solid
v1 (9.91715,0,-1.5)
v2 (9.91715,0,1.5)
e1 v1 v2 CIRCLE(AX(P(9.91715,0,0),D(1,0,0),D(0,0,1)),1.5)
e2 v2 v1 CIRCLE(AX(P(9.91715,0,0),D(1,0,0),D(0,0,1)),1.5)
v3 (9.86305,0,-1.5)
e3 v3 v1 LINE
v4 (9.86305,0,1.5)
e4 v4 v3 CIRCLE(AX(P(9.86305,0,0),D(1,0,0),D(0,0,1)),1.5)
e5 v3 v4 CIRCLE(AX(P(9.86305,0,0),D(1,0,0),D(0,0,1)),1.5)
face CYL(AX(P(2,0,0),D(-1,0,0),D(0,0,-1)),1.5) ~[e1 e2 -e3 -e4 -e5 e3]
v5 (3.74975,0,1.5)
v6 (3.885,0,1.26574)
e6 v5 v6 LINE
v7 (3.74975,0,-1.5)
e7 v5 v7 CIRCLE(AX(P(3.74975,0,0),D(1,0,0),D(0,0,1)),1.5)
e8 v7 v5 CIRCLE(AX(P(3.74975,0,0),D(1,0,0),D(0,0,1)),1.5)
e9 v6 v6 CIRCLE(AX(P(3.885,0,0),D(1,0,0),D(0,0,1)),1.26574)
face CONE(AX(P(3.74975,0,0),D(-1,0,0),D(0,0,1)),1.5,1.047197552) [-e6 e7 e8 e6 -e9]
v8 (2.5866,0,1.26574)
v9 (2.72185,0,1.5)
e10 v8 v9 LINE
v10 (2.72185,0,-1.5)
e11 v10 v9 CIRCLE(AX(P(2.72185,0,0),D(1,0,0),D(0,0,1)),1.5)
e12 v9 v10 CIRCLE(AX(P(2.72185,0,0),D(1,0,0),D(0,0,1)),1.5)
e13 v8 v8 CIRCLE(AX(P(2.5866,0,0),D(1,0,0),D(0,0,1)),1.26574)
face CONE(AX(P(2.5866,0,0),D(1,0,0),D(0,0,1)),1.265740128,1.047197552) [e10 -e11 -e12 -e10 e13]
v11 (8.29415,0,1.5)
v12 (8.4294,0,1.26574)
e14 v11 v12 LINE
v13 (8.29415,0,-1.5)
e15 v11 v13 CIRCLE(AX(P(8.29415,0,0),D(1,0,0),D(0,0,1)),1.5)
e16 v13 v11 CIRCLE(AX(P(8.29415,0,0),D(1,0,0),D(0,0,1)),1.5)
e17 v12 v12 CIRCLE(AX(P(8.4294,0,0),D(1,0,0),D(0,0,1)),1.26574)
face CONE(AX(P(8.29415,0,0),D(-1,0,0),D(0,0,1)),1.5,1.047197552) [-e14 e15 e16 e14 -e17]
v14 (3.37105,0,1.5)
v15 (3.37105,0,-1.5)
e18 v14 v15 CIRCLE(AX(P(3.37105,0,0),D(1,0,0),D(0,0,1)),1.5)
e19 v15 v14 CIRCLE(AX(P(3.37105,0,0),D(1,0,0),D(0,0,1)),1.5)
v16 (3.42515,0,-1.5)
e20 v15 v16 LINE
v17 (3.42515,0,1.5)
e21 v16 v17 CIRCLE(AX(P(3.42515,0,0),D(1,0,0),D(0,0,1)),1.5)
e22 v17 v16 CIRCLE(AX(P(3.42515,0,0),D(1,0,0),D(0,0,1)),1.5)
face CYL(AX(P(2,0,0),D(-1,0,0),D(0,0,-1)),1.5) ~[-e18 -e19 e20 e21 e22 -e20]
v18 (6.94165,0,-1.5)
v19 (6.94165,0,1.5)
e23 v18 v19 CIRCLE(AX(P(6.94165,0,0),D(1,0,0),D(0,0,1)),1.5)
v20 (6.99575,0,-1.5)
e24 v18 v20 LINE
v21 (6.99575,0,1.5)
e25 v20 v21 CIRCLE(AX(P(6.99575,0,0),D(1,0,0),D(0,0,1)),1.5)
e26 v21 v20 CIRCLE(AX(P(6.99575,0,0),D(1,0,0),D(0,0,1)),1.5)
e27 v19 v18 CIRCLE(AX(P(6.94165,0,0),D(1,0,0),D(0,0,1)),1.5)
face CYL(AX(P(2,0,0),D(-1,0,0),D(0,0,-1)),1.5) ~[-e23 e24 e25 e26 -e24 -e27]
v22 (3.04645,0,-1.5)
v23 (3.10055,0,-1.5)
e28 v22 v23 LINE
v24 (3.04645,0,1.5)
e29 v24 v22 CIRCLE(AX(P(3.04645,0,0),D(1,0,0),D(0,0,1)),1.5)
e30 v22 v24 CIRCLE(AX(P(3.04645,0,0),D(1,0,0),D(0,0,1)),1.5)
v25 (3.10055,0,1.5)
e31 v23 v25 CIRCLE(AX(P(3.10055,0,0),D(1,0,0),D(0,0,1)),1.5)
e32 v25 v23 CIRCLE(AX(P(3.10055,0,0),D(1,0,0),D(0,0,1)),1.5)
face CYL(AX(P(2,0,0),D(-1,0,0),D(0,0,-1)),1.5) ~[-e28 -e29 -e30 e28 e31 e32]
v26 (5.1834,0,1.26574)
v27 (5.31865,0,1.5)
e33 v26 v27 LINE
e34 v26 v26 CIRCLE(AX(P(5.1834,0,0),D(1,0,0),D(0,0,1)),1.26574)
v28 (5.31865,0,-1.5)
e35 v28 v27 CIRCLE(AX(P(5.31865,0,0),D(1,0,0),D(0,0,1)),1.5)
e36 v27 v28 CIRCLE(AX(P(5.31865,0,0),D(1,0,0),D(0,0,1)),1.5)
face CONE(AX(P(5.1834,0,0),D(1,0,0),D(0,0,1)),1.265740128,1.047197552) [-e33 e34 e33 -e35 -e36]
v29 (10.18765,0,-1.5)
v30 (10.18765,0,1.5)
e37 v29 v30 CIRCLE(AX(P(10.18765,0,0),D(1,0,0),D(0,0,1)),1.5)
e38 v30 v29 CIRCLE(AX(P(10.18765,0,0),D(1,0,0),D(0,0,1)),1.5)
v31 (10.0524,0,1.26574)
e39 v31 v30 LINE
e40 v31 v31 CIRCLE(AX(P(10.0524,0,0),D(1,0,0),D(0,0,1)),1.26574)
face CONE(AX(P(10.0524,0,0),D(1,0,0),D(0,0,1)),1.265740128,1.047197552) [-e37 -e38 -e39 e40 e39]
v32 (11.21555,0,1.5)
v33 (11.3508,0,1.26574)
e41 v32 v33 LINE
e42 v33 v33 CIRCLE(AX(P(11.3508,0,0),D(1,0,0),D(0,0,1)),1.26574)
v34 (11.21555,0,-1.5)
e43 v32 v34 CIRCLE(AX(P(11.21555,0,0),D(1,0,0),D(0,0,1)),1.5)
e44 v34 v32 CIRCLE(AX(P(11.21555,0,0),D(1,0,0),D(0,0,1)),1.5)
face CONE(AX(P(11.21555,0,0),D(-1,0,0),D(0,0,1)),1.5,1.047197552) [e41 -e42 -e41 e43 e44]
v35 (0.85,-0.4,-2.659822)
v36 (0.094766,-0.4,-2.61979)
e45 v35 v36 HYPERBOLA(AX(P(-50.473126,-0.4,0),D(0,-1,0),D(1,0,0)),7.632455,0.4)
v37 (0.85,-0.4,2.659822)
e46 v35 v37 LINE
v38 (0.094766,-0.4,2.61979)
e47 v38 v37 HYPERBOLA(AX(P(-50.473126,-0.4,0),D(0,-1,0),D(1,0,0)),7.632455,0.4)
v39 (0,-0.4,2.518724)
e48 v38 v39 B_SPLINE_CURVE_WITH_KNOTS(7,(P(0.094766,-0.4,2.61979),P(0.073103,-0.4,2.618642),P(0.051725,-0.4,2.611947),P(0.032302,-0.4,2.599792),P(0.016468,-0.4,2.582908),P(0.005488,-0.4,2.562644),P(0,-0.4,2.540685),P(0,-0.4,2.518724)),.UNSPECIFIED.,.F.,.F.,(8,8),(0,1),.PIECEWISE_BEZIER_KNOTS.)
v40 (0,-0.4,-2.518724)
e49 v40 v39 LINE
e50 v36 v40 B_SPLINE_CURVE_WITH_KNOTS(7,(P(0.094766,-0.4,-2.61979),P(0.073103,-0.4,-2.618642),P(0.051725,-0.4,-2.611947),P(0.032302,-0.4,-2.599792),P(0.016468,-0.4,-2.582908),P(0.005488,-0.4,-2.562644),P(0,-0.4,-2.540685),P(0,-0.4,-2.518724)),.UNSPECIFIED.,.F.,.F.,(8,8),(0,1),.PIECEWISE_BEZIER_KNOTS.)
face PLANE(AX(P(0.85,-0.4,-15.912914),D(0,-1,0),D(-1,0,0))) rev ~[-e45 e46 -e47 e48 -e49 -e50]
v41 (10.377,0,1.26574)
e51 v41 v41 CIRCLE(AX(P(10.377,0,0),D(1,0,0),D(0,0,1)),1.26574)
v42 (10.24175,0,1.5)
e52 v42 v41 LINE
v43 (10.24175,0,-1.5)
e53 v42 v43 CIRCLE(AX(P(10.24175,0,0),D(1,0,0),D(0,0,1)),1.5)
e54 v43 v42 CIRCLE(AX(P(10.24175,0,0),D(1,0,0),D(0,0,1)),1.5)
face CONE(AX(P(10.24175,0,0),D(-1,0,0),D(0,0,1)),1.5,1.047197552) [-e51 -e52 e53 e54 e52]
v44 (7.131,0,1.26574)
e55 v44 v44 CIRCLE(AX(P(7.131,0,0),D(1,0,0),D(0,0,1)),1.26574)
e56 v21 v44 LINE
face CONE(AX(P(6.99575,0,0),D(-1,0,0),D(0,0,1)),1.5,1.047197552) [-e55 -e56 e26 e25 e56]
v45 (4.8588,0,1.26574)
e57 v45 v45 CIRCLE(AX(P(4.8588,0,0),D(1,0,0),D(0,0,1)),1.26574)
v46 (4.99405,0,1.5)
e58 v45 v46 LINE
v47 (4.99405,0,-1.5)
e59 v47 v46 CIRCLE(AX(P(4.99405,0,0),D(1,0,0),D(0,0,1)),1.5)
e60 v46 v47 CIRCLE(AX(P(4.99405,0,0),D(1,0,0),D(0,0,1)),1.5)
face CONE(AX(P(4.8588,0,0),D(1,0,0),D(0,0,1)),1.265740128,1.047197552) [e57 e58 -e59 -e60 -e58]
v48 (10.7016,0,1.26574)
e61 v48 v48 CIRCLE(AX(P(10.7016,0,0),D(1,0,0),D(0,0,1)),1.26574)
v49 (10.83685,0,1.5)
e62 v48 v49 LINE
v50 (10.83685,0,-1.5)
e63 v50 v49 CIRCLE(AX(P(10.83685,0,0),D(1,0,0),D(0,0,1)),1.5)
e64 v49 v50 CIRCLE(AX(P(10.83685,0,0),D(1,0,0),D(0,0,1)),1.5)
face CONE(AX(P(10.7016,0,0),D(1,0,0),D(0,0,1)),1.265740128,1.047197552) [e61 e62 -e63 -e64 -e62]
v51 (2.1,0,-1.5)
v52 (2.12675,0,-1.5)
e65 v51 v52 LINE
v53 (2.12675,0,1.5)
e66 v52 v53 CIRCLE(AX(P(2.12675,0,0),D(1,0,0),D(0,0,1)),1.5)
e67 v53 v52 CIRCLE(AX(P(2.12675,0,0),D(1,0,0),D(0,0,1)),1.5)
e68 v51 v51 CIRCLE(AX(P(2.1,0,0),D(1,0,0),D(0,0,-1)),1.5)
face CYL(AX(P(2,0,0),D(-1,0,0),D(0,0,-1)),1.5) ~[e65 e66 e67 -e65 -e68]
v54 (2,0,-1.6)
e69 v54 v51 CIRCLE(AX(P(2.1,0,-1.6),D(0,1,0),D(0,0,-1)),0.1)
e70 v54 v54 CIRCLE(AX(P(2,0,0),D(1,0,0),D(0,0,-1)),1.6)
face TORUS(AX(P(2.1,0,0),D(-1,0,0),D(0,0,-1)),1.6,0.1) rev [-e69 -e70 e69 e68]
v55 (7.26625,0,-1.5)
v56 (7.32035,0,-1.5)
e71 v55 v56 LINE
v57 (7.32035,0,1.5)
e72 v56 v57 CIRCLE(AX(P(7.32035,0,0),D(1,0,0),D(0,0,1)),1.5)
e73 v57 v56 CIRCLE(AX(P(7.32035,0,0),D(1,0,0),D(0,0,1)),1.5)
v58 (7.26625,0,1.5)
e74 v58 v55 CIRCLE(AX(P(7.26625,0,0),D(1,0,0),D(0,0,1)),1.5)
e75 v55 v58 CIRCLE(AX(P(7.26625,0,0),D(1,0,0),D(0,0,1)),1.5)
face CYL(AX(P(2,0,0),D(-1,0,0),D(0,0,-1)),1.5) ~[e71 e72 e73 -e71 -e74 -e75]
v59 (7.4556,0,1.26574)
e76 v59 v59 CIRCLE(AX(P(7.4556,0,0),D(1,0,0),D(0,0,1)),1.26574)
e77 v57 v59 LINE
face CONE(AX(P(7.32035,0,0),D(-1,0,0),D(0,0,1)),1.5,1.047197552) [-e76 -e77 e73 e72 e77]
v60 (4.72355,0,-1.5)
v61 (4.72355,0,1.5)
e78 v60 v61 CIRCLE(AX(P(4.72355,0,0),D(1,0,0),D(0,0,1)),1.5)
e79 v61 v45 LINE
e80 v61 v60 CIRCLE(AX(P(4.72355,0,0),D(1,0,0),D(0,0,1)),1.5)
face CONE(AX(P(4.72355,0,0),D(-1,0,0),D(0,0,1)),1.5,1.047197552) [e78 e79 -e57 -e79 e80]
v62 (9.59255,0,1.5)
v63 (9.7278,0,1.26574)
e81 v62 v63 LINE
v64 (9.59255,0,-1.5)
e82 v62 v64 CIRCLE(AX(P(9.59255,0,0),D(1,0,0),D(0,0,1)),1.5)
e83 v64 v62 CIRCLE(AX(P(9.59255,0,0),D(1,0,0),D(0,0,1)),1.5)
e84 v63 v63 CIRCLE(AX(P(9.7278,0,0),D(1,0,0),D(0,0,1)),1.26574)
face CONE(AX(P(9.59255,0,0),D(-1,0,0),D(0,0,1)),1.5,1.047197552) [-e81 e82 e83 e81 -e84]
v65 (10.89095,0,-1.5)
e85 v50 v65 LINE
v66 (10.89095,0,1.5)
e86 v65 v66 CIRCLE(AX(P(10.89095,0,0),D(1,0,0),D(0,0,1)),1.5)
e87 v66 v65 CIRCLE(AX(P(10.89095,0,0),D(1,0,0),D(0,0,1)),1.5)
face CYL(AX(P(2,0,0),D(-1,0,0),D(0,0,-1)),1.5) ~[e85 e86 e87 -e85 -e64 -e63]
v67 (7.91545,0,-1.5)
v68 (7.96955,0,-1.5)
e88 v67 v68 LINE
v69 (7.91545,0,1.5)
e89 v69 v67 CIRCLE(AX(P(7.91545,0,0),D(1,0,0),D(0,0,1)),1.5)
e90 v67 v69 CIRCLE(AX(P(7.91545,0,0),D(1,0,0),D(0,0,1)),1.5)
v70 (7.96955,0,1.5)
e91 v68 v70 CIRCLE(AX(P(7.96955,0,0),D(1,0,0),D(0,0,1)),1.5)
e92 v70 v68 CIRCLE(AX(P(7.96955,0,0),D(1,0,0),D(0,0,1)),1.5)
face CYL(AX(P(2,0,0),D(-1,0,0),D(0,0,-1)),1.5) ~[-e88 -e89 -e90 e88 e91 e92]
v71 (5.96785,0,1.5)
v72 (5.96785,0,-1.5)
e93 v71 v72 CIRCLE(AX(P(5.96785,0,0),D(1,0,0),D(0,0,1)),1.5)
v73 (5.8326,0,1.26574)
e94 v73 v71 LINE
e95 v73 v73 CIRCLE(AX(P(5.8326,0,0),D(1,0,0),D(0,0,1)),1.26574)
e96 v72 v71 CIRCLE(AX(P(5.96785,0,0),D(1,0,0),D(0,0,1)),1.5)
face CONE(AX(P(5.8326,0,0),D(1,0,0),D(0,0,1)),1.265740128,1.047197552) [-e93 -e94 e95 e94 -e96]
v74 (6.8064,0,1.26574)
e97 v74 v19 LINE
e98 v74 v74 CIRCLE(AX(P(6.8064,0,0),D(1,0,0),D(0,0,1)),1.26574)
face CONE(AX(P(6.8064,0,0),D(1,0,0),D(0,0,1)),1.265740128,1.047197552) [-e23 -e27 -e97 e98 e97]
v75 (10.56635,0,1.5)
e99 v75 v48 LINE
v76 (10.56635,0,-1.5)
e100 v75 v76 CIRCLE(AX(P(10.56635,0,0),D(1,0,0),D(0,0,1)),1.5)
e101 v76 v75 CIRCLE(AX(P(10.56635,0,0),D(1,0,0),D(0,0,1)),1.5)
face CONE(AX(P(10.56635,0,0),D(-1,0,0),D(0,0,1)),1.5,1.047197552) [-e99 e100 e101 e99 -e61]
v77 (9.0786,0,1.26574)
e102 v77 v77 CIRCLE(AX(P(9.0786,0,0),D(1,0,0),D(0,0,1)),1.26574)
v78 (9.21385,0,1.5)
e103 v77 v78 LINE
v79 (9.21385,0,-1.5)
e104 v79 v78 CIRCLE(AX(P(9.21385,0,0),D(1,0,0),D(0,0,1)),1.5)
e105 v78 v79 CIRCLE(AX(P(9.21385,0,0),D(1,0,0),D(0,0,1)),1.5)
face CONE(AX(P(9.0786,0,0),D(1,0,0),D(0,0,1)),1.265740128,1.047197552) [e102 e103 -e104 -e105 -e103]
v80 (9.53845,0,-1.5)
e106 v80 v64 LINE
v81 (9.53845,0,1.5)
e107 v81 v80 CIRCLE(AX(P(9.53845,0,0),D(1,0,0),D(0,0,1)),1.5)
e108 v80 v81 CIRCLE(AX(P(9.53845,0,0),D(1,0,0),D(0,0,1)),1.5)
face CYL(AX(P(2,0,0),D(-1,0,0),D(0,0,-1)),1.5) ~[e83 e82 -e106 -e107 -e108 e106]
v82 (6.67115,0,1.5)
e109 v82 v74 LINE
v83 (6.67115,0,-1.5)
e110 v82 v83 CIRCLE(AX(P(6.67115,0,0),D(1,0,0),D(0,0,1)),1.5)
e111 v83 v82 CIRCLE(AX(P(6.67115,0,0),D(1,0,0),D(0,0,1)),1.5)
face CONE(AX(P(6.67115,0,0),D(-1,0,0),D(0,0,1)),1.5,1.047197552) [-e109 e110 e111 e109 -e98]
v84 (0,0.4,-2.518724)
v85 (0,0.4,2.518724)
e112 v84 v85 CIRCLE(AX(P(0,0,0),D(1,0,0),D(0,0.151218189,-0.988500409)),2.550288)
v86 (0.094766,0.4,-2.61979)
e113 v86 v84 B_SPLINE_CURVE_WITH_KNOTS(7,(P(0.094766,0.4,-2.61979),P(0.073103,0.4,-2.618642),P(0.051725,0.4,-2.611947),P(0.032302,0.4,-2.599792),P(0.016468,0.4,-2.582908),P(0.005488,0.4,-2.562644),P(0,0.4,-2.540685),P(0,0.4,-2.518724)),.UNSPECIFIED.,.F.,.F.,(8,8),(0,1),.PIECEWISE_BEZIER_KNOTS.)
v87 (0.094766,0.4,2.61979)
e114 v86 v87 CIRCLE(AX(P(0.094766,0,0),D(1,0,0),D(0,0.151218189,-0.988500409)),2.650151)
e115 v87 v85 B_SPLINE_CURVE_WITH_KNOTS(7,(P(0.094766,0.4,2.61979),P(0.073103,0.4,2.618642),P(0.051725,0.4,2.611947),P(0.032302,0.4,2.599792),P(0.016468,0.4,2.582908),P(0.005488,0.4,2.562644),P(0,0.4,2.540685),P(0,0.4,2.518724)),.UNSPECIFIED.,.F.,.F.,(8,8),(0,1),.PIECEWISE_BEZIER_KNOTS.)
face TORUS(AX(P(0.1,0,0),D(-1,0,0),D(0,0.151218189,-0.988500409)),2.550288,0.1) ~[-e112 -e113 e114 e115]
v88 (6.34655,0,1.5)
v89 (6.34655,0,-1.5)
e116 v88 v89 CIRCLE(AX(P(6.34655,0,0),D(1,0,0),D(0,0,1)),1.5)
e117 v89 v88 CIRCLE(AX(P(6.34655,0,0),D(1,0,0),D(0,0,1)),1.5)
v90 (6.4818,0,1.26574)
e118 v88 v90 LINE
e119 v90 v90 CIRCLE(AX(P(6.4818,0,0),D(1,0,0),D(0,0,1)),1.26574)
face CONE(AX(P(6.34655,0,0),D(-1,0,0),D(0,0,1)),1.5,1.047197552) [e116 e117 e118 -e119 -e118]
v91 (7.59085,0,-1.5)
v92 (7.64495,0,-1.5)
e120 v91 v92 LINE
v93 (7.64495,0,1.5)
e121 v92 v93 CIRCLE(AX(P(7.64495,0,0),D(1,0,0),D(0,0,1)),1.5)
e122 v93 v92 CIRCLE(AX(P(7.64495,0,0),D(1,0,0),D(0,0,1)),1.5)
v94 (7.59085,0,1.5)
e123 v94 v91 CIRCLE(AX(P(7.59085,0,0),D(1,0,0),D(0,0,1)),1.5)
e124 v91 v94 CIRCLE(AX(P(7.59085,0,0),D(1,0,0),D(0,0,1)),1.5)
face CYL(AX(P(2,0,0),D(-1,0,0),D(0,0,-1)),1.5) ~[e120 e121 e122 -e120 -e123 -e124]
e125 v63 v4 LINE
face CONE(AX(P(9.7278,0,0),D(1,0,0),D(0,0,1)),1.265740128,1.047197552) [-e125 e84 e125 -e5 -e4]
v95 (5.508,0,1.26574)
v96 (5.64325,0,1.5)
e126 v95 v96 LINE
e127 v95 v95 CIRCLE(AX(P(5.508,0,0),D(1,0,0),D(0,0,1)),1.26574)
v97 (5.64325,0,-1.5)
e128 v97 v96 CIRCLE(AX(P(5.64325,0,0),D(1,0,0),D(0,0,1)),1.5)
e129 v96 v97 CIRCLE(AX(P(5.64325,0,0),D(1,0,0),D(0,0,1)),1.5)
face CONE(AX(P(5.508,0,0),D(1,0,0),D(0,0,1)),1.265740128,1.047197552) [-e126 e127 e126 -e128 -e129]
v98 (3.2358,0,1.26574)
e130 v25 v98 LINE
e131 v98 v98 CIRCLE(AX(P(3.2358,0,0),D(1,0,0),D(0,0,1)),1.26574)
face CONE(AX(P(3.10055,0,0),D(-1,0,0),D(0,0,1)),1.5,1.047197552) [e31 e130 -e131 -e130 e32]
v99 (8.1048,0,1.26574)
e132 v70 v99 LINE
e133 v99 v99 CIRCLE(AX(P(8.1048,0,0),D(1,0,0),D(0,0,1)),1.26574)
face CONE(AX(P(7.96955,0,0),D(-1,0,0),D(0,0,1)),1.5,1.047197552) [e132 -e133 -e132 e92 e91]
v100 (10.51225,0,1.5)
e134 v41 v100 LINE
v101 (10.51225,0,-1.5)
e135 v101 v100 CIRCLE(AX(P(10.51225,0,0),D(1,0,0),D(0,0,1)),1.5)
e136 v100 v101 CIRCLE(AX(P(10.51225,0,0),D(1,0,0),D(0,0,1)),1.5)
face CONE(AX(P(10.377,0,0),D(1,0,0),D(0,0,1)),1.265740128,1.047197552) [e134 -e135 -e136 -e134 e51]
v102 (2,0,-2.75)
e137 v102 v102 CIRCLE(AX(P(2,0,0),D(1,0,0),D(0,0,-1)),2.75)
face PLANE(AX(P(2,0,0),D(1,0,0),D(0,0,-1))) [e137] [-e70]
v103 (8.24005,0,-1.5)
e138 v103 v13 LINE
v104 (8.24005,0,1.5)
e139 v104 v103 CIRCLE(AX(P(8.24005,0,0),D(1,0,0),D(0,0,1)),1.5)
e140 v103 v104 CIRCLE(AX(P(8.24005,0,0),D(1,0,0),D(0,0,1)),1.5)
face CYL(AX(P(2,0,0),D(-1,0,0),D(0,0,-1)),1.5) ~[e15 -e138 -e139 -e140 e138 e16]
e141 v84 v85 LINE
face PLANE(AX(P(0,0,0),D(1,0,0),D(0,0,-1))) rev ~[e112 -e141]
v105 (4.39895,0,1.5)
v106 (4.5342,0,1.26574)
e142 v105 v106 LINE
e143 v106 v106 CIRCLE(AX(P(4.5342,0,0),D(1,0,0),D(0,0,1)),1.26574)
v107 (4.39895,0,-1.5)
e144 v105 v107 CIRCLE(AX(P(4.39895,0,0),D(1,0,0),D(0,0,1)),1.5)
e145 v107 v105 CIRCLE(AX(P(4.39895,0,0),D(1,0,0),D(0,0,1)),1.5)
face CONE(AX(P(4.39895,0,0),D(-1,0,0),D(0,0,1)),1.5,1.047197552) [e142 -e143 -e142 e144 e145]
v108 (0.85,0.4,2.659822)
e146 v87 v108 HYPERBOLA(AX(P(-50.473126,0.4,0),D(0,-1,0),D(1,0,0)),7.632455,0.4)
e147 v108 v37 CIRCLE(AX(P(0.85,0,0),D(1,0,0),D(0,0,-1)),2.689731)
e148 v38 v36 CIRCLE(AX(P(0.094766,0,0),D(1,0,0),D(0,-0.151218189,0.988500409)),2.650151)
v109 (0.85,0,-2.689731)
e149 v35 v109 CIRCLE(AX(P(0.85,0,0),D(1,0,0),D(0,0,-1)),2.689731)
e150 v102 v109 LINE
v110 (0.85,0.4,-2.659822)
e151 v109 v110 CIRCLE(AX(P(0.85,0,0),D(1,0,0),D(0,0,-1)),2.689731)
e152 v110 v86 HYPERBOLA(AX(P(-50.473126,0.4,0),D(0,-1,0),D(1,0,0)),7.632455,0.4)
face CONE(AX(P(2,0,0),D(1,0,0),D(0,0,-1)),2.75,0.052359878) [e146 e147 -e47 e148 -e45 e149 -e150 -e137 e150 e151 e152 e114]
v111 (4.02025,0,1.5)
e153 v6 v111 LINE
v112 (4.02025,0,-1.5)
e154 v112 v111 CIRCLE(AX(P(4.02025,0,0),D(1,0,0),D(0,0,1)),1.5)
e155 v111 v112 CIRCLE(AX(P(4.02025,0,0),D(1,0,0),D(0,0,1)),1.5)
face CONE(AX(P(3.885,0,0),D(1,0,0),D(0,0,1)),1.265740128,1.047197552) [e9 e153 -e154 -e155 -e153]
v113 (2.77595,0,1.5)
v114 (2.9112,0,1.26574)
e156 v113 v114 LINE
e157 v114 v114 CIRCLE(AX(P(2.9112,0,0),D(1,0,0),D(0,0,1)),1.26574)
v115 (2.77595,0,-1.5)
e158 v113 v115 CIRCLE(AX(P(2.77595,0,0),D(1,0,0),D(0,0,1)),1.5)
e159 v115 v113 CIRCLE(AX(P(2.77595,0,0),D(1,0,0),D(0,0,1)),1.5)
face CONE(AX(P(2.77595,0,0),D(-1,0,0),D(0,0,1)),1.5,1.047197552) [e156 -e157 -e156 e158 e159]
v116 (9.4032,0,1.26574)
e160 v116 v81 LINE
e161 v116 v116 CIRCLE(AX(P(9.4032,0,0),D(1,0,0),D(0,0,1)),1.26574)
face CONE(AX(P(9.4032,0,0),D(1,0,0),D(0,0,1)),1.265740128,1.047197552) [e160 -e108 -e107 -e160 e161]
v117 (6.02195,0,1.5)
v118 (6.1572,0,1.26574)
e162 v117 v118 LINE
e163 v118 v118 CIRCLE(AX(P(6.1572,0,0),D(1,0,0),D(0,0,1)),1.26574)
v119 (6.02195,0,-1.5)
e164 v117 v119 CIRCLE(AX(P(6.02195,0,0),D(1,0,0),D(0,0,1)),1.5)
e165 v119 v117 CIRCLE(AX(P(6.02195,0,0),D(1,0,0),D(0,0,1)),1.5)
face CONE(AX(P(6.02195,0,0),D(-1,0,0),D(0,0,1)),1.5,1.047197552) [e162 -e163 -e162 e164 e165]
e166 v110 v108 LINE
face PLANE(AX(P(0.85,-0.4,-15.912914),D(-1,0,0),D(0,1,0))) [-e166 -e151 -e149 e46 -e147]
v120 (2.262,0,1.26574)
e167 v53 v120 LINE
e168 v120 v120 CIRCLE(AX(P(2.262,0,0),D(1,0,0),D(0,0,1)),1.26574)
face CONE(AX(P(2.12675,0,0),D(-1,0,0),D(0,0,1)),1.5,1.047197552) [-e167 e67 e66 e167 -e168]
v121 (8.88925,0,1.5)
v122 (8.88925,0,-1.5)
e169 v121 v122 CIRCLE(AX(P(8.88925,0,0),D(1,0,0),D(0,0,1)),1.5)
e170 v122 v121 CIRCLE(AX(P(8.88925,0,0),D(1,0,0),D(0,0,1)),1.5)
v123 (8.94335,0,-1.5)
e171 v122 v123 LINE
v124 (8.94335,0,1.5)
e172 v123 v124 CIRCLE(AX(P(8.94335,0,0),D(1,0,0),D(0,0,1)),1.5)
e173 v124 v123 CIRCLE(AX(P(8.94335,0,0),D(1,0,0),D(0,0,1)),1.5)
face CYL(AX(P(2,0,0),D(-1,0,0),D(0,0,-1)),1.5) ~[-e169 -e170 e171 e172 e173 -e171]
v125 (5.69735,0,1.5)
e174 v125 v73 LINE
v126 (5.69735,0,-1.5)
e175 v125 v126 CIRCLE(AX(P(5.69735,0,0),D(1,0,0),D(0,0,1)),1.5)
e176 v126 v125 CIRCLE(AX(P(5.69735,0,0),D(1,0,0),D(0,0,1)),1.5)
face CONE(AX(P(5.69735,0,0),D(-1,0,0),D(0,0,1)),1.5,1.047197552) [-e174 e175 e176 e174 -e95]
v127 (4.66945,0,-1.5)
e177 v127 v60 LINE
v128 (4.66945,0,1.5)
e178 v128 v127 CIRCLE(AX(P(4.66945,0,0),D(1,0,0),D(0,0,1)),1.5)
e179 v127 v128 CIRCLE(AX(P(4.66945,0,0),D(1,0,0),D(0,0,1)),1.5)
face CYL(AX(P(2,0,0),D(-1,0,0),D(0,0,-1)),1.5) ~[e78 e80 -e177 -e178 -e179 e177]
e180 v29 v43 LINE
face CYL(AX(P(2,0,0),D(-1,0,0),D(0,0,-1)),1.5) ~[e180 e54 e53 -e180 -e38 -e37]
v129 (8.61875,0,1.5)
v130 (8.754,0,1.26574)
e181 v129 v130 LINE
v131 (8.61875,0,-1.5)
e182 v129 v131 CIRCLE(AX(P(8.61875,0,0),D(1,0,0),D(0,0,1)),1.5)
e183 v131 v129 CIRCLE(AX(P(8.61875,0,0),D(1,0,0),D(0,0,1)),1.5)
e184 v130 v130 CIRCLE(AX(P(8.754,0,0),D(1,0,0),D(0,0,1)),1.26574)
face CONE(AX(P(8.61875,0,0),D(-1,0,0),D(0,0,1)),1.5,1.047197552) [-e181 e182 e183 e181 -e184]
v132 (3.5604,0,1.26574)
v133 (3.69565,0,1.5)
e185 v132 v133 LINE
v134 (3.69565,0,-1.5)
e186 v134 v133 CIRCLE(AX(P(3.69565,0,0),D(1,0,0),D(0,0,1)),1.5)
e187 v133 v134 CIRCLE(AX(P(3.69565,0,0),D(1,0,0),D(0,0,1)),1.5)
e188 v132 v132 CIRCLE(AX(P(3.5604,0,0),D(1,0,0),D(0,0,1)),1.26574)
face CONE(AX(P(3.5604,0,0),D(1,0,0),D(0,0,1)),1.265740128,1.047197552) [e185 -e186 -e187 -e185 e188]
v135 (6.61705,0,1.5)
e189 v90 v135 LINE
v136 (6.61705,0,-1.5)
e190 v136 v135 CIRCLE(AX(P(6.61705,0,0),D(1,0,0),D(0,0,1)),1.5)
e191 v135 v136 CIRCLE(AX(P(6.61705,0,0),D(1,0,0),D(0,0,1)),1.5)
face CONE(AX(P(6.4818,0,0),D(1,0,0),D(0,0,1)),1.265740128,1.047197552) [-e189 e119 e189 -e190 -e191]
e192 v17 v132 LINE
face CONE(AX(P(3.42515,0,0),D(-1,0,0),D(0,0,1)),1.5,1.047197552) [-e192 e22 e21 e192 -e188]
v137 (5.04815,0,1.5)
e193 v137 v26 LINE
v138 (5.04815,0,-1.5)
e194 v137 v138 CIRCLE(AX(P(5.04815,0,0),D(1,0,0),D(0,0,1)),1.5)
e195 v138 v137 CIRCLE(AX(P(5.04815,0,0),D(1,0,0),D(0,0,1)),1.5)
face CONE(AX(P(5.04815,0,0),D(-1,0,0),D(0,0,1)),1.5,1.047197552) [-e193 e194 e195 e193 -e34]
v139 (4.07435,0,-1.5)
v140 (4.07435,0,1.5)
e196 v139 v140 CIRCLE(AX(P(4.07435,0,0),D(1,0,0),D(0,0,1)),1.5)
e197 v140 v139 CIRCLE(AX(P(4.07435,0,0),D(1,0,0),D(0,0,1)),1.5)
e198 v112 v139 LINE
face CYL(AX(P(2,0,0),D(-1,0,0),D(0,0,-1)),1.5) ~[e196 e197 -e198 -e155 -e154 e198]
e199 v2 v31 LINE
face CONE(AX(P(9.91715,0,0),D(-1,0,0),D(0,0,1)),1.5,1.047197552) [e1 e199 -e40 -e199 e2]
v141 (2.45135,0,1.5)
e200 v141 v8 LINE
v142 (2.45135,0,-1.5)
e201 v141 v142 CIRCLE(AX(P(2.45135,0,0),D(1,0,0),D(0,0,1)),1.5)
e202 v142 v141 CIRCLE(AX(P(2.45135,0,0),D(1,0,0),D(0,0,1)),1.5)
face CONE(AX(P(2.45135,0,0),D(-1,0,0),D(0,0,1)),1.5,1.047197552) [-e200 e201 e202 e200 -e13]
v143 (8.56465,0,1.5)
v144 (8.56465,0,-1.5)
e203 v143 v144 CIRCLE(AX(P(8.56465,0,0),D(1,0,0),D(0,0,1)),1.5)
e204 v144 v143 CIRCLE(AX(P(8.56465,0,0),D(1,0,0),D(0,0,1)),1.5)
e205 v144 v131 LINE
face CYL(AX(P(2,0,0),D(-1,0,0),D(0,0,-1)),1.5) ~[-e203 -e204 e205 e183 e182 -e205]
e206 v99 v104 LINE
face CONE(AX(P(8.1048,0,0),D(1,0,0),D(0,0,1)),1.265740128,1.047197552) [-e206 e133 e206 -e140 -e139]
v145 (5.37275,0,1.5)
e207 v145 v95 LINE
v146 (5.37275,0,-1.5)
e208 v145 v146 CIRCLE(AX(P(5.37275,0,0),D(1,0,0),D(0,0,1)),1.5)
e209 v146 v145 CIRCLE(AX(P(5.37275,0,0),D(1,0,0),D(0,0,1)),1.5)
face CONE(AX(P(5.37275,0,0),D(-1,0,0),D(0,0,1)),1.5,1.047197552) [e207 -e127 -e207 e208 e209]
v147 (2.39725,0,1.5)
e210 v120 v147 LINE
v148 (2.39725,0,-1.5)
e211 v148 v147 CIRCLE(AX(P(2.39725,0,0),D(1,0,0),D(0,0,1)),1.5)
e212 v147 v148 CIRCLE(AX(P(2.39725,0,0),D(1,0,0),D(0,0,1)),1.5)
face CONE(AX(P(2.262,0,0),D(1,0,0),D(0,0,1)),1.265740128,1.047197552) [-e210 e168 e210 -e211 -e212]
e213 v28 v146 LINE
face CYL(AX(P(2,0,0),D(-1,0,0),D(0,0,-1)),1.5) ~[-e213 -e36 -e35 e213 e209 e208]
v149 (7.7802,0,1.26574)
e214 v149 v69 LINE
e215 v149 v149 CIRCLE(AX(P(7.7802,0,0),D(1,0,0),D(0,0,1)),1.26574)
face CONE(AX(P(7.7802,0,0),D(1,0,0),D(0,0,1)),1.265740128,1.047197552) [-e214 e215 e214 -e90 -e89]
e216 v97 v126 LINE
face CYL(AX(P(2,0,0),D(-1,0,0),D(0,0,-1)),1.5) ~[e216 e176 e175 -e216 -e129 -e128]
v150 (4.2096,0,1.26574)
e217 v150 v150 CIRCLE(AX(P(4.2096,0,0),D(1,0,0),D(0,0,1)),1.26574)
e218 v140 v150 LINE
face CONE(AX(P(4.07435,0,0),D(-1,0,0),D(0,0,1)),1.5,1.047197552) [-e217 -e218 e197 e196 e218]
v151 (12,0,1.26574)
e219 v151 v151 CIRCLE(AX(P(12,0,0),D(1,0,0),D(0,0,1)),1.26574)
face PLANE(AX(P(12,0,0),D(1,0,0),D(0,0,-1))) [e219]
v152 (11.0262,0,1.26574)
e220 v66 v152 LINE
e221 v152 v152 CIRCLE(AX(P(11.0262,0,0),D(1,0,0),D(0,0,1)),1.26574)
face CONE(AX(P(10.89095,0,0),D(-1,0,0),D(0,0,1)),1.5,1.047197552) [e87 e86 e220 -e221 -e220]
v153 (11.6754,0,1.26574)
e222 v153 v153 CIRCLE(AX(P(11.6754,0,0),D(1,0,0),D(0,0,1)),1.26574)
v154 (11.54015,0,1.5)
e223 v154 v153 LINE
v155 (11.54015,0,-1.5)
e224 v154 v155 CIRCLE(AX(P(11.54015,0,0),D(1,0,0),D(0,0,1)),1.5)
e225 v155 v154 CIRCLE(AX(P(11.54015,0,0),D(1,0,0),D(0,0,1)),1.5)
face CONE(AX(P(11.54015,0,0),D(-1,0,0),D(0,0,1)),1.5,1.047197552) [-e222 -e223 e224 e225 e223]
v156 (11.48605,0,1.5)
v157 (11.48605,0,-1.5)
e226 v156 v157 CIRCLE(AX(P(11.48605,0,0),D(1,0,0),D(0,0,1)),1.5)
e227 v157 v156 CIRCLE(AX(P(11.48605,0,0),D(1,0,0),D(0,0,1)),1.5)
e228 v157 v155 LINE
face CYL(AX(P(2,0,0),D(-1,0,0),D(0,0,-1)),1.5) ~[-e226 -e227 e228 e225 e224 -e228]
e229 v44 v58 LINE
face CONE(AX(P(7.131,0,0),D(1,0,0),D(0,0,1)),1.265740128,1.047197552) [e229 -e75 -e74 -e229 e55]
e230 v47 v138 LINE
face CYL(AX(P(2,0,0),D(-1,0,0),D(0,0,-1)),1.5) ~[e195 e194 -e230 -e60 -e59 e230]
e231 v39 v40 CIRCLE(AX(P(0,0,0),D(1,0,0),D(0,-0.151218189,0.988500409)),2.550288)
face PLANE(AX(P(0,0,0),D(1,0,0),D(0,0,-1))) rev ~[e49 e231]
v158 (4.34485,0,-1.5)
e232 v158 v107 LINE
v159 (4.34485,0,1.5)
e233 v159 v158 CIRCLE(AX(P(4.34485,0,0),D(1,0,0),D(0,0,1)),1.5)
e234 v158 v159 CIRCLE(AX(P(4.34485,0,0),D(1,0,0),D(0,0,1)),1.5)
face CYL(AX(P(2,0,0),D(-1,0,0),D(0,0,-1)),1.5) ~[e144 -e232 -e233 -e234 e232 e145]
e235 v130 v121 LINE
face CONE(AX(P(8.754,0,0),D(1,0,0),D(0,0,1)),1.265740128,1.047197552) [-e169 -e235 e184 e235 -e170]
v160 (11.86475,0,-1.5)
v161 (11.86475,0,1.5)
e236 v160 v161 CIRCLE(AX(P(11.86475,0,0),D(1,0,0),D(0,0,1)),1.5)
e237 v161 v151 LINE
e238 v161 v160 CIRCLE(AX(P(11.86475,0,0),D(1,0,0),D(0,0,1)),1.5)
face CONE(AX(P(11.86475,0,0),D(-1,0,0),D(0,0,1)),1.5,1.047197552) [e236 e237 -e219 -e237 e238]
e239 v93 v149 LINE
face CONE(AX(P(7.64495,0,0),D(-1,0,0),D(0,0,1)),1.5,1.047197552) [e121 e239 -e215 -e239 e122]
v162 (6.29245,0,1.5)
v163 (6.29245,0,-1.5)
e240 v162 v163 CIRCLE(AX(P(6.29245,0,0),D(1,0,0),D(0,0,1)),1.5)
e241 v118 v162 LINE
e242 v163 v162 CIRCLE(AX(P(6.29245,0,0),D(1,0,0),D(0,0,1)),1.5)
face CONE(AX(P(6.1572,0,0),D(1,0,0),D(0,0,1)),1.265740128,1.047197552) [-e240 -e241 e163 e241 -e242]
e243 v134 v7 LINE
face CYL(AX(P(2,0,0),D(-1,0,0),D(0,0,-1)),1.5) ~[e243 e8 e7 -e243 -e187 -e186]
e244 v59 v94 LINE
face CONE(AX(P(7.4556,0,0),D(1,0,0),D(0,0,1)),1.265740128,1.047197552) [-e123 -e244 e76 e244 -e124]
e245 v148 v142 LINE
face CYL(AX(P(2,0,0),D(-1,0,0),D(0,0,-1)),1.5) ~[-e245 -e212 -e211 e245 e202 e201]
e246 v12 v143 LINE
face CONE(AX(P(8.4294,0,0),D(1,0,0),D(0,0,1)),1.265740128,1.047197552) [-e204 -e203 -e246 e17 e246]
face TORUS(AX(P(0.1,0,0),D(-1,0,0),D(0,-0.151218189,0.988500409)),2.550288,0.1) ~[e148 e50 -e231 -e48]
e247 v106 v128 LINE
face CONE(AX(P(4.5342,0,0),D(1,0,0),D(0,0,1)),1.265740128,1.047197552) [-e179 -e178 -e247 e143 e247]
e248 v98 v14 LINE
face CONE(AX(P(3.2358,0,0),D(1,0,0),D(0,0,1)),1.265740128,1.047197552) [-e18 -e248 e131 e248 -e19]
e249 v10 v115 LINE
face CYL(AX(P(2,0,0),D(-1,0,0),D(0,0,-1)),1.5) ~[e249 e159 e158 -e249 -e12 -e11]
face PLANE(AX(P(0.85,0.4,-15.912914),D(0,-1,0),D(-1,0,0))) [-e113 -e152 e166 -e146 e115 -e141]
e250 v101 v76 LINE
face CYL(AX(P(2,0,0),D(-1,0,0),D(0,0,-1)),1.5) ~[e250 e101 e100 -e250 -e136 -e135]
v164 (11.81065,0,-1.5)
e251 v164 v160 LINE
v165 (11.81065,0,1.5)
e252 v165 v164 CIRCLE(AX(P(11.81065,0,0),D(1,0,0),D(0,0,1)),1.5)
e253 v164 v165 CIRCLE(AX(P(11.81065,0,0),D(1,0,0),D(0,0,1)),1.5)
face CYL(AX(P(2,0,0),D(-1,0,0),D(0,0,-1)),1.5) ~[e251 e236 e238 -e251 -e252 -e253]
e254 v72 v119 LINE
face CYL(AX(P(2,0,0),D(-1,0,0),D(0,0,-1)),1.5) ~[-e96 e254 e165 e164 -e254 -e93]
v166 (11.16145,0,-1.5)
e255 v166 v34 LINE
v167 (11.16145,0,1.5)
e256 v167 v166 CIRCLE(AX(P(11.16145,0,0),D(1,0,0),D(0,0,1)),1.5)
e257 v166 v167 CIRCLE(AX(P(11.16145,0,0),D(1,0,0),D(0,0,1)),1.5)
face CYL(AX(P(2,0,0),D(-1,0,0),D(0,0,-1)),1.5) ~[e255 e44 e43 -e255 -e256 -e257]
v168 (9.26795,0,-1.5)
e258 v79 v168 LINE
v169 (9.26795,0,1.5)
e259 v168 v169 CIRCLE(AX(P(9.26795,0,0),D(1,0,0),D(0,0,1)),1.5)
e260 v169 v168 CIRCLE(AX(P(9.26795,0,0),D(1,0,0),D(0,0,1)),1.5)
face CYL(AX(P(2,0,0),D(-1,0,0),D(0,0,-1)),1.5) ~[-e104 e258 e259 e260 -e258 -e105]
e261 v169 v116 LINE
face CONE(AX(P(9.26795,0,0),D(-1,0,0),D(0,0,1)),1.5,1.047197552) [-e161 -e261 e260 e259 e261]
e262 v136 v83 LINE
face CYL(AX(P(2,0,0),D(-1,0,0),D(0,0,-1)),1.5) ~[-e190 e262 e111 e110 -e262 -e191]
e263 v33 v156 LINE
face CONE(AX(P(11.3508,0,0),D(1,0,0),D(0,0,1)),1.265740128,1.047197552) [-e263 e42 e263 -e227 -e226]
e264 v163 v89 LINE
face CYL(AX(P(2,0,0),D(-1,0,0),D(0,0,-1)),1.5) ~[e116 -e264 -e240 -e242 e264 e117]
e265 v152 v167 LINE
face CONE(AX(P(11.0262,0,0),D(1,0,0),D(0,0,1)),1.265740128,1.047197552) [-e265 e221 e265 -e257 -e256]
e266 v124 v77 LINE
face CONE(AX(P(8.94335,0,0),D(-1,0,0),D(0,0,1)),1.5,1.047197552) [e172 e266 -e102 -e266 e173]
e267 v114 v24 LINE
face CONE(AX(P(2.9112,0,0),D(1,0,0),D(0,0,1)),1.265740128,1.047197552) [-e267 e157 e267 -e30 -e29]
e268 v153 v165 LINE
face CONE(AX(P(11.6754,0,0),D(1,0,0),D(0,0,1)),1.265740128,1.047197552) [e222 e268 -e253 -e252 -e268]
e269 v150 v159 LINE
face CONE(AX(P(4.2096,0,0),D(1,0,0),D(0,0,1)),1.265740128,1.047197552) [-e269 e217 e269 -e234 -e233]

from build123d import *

# Parameters (mm, degrees)
SKETCH2_R        = 2.75
BASEHEAD_DEPTH   = 2
BASEHEAD_DRAFT   = -3
SKETCH3_R        = 1.5
BASEBODY_DEPTH   = 10
SLOT_DEPTH       = 15.912913867
SLOT_DEPTH_BACK  = 15.912913867
SKETCH4_W        = 0.8
SKETCH4_H        = 0.85
HEADFILLET_R     = 0.1
LPATTERN10_COUNT = 31
LPATTERN10_PITCH = 0.3246


with BuildPart() as part:
    # Sketch2 → BaseHead (with draft: the straight prism first)
    with BuildSketch(Plane(origin=(2, 0, 0), x_dir=(0, 0, -1), z_dir=(1, 0, 0))):
        Circle(SKETCH2_R)
    extrude(amount=-BASEHEAD_DEPTH)
    # BaseHead: the draft: its side faces are tilted about the plane it starts from
    basehead_sides = [part.faces().sort_by_distance(p)[0] for p in [
        (1, 0, 2.75),
    ]]
    draft(basehead_sides, Plane(origin=(2, 0, 0), x_dir=(0, 0, -1), z_dir=(1, 0, 0)), BASEHEAD_DRAFT)

    # Sketch3 → BaseBody (add)
    with BuildSketch(Plane(origin=(2, -1.110095321, -1.354392991), x_dir=(0, 0, -1), z_dir=(1, 0, 0))):
        with Locations((-1.354392991, 1.110095321)):
            Circle(SKETCH3_R)
    extrude(amount=BASEBODY_DEPTH)

    # Sketch4 → Slot (cut, two sides: drawn at the far end of the back side and taken through both)
    with BuildSketch(Plane(origin=(-1.9, -1.9, 0), x_dir=(0, 1, 0), z_dir=(0, 0, 1)).offset(-SLOT_DEPTH_BACK)):
        with Locations((1.9, -2.325)):
            Rectangle(SKETCH4_W, SKETCH4_H)
    extrude(amount=SLOT_DEPTH + SLOT_DEPTH_BACK, mode=Mode.SUBTRACT)

    # HeadFillet
    headfillet_edges = [part.edges().sort_by_distance(p)[0] for p in [
        (2, 0, 1.5),
        (0, -2.645184441, 0),
        (0, 2.645184441, 0),
    ]]
    fillet(headfillet_edges, radius=HEADFILLET_R)

    # Sketch5 → Cut-Revolve10 (revolve, cut)
    with BuildSketch(Plane.XY, mode=Mode.PRIVATE) as cut_revolve10_sk:
        Polygon((12.13525, 1.5), (12.13525, 1.7705), (11.86475, 1.7705), (11.86475, 1.5), (12, 1.265740128), align=None)
    cut_revolve10 = revolve(cut_revolve10_sk.sketch.rotate(Axis((0, 0, 0), (1, 0, 0)), 90), axis=Axis((0, 0, 0), (1, 0, 0)), mode=Mode.SUBTRACT)

    # LPattern10: Cut-Revolve10 ×31
    with Locations(*[(-i * LPATTERN10_PITCH, 0, 0) for i in range(1, LPATTERN10_COUNT)]):
        add(cut_revolve10, mode=Mode.SUBTRACT)


solid = part.part
